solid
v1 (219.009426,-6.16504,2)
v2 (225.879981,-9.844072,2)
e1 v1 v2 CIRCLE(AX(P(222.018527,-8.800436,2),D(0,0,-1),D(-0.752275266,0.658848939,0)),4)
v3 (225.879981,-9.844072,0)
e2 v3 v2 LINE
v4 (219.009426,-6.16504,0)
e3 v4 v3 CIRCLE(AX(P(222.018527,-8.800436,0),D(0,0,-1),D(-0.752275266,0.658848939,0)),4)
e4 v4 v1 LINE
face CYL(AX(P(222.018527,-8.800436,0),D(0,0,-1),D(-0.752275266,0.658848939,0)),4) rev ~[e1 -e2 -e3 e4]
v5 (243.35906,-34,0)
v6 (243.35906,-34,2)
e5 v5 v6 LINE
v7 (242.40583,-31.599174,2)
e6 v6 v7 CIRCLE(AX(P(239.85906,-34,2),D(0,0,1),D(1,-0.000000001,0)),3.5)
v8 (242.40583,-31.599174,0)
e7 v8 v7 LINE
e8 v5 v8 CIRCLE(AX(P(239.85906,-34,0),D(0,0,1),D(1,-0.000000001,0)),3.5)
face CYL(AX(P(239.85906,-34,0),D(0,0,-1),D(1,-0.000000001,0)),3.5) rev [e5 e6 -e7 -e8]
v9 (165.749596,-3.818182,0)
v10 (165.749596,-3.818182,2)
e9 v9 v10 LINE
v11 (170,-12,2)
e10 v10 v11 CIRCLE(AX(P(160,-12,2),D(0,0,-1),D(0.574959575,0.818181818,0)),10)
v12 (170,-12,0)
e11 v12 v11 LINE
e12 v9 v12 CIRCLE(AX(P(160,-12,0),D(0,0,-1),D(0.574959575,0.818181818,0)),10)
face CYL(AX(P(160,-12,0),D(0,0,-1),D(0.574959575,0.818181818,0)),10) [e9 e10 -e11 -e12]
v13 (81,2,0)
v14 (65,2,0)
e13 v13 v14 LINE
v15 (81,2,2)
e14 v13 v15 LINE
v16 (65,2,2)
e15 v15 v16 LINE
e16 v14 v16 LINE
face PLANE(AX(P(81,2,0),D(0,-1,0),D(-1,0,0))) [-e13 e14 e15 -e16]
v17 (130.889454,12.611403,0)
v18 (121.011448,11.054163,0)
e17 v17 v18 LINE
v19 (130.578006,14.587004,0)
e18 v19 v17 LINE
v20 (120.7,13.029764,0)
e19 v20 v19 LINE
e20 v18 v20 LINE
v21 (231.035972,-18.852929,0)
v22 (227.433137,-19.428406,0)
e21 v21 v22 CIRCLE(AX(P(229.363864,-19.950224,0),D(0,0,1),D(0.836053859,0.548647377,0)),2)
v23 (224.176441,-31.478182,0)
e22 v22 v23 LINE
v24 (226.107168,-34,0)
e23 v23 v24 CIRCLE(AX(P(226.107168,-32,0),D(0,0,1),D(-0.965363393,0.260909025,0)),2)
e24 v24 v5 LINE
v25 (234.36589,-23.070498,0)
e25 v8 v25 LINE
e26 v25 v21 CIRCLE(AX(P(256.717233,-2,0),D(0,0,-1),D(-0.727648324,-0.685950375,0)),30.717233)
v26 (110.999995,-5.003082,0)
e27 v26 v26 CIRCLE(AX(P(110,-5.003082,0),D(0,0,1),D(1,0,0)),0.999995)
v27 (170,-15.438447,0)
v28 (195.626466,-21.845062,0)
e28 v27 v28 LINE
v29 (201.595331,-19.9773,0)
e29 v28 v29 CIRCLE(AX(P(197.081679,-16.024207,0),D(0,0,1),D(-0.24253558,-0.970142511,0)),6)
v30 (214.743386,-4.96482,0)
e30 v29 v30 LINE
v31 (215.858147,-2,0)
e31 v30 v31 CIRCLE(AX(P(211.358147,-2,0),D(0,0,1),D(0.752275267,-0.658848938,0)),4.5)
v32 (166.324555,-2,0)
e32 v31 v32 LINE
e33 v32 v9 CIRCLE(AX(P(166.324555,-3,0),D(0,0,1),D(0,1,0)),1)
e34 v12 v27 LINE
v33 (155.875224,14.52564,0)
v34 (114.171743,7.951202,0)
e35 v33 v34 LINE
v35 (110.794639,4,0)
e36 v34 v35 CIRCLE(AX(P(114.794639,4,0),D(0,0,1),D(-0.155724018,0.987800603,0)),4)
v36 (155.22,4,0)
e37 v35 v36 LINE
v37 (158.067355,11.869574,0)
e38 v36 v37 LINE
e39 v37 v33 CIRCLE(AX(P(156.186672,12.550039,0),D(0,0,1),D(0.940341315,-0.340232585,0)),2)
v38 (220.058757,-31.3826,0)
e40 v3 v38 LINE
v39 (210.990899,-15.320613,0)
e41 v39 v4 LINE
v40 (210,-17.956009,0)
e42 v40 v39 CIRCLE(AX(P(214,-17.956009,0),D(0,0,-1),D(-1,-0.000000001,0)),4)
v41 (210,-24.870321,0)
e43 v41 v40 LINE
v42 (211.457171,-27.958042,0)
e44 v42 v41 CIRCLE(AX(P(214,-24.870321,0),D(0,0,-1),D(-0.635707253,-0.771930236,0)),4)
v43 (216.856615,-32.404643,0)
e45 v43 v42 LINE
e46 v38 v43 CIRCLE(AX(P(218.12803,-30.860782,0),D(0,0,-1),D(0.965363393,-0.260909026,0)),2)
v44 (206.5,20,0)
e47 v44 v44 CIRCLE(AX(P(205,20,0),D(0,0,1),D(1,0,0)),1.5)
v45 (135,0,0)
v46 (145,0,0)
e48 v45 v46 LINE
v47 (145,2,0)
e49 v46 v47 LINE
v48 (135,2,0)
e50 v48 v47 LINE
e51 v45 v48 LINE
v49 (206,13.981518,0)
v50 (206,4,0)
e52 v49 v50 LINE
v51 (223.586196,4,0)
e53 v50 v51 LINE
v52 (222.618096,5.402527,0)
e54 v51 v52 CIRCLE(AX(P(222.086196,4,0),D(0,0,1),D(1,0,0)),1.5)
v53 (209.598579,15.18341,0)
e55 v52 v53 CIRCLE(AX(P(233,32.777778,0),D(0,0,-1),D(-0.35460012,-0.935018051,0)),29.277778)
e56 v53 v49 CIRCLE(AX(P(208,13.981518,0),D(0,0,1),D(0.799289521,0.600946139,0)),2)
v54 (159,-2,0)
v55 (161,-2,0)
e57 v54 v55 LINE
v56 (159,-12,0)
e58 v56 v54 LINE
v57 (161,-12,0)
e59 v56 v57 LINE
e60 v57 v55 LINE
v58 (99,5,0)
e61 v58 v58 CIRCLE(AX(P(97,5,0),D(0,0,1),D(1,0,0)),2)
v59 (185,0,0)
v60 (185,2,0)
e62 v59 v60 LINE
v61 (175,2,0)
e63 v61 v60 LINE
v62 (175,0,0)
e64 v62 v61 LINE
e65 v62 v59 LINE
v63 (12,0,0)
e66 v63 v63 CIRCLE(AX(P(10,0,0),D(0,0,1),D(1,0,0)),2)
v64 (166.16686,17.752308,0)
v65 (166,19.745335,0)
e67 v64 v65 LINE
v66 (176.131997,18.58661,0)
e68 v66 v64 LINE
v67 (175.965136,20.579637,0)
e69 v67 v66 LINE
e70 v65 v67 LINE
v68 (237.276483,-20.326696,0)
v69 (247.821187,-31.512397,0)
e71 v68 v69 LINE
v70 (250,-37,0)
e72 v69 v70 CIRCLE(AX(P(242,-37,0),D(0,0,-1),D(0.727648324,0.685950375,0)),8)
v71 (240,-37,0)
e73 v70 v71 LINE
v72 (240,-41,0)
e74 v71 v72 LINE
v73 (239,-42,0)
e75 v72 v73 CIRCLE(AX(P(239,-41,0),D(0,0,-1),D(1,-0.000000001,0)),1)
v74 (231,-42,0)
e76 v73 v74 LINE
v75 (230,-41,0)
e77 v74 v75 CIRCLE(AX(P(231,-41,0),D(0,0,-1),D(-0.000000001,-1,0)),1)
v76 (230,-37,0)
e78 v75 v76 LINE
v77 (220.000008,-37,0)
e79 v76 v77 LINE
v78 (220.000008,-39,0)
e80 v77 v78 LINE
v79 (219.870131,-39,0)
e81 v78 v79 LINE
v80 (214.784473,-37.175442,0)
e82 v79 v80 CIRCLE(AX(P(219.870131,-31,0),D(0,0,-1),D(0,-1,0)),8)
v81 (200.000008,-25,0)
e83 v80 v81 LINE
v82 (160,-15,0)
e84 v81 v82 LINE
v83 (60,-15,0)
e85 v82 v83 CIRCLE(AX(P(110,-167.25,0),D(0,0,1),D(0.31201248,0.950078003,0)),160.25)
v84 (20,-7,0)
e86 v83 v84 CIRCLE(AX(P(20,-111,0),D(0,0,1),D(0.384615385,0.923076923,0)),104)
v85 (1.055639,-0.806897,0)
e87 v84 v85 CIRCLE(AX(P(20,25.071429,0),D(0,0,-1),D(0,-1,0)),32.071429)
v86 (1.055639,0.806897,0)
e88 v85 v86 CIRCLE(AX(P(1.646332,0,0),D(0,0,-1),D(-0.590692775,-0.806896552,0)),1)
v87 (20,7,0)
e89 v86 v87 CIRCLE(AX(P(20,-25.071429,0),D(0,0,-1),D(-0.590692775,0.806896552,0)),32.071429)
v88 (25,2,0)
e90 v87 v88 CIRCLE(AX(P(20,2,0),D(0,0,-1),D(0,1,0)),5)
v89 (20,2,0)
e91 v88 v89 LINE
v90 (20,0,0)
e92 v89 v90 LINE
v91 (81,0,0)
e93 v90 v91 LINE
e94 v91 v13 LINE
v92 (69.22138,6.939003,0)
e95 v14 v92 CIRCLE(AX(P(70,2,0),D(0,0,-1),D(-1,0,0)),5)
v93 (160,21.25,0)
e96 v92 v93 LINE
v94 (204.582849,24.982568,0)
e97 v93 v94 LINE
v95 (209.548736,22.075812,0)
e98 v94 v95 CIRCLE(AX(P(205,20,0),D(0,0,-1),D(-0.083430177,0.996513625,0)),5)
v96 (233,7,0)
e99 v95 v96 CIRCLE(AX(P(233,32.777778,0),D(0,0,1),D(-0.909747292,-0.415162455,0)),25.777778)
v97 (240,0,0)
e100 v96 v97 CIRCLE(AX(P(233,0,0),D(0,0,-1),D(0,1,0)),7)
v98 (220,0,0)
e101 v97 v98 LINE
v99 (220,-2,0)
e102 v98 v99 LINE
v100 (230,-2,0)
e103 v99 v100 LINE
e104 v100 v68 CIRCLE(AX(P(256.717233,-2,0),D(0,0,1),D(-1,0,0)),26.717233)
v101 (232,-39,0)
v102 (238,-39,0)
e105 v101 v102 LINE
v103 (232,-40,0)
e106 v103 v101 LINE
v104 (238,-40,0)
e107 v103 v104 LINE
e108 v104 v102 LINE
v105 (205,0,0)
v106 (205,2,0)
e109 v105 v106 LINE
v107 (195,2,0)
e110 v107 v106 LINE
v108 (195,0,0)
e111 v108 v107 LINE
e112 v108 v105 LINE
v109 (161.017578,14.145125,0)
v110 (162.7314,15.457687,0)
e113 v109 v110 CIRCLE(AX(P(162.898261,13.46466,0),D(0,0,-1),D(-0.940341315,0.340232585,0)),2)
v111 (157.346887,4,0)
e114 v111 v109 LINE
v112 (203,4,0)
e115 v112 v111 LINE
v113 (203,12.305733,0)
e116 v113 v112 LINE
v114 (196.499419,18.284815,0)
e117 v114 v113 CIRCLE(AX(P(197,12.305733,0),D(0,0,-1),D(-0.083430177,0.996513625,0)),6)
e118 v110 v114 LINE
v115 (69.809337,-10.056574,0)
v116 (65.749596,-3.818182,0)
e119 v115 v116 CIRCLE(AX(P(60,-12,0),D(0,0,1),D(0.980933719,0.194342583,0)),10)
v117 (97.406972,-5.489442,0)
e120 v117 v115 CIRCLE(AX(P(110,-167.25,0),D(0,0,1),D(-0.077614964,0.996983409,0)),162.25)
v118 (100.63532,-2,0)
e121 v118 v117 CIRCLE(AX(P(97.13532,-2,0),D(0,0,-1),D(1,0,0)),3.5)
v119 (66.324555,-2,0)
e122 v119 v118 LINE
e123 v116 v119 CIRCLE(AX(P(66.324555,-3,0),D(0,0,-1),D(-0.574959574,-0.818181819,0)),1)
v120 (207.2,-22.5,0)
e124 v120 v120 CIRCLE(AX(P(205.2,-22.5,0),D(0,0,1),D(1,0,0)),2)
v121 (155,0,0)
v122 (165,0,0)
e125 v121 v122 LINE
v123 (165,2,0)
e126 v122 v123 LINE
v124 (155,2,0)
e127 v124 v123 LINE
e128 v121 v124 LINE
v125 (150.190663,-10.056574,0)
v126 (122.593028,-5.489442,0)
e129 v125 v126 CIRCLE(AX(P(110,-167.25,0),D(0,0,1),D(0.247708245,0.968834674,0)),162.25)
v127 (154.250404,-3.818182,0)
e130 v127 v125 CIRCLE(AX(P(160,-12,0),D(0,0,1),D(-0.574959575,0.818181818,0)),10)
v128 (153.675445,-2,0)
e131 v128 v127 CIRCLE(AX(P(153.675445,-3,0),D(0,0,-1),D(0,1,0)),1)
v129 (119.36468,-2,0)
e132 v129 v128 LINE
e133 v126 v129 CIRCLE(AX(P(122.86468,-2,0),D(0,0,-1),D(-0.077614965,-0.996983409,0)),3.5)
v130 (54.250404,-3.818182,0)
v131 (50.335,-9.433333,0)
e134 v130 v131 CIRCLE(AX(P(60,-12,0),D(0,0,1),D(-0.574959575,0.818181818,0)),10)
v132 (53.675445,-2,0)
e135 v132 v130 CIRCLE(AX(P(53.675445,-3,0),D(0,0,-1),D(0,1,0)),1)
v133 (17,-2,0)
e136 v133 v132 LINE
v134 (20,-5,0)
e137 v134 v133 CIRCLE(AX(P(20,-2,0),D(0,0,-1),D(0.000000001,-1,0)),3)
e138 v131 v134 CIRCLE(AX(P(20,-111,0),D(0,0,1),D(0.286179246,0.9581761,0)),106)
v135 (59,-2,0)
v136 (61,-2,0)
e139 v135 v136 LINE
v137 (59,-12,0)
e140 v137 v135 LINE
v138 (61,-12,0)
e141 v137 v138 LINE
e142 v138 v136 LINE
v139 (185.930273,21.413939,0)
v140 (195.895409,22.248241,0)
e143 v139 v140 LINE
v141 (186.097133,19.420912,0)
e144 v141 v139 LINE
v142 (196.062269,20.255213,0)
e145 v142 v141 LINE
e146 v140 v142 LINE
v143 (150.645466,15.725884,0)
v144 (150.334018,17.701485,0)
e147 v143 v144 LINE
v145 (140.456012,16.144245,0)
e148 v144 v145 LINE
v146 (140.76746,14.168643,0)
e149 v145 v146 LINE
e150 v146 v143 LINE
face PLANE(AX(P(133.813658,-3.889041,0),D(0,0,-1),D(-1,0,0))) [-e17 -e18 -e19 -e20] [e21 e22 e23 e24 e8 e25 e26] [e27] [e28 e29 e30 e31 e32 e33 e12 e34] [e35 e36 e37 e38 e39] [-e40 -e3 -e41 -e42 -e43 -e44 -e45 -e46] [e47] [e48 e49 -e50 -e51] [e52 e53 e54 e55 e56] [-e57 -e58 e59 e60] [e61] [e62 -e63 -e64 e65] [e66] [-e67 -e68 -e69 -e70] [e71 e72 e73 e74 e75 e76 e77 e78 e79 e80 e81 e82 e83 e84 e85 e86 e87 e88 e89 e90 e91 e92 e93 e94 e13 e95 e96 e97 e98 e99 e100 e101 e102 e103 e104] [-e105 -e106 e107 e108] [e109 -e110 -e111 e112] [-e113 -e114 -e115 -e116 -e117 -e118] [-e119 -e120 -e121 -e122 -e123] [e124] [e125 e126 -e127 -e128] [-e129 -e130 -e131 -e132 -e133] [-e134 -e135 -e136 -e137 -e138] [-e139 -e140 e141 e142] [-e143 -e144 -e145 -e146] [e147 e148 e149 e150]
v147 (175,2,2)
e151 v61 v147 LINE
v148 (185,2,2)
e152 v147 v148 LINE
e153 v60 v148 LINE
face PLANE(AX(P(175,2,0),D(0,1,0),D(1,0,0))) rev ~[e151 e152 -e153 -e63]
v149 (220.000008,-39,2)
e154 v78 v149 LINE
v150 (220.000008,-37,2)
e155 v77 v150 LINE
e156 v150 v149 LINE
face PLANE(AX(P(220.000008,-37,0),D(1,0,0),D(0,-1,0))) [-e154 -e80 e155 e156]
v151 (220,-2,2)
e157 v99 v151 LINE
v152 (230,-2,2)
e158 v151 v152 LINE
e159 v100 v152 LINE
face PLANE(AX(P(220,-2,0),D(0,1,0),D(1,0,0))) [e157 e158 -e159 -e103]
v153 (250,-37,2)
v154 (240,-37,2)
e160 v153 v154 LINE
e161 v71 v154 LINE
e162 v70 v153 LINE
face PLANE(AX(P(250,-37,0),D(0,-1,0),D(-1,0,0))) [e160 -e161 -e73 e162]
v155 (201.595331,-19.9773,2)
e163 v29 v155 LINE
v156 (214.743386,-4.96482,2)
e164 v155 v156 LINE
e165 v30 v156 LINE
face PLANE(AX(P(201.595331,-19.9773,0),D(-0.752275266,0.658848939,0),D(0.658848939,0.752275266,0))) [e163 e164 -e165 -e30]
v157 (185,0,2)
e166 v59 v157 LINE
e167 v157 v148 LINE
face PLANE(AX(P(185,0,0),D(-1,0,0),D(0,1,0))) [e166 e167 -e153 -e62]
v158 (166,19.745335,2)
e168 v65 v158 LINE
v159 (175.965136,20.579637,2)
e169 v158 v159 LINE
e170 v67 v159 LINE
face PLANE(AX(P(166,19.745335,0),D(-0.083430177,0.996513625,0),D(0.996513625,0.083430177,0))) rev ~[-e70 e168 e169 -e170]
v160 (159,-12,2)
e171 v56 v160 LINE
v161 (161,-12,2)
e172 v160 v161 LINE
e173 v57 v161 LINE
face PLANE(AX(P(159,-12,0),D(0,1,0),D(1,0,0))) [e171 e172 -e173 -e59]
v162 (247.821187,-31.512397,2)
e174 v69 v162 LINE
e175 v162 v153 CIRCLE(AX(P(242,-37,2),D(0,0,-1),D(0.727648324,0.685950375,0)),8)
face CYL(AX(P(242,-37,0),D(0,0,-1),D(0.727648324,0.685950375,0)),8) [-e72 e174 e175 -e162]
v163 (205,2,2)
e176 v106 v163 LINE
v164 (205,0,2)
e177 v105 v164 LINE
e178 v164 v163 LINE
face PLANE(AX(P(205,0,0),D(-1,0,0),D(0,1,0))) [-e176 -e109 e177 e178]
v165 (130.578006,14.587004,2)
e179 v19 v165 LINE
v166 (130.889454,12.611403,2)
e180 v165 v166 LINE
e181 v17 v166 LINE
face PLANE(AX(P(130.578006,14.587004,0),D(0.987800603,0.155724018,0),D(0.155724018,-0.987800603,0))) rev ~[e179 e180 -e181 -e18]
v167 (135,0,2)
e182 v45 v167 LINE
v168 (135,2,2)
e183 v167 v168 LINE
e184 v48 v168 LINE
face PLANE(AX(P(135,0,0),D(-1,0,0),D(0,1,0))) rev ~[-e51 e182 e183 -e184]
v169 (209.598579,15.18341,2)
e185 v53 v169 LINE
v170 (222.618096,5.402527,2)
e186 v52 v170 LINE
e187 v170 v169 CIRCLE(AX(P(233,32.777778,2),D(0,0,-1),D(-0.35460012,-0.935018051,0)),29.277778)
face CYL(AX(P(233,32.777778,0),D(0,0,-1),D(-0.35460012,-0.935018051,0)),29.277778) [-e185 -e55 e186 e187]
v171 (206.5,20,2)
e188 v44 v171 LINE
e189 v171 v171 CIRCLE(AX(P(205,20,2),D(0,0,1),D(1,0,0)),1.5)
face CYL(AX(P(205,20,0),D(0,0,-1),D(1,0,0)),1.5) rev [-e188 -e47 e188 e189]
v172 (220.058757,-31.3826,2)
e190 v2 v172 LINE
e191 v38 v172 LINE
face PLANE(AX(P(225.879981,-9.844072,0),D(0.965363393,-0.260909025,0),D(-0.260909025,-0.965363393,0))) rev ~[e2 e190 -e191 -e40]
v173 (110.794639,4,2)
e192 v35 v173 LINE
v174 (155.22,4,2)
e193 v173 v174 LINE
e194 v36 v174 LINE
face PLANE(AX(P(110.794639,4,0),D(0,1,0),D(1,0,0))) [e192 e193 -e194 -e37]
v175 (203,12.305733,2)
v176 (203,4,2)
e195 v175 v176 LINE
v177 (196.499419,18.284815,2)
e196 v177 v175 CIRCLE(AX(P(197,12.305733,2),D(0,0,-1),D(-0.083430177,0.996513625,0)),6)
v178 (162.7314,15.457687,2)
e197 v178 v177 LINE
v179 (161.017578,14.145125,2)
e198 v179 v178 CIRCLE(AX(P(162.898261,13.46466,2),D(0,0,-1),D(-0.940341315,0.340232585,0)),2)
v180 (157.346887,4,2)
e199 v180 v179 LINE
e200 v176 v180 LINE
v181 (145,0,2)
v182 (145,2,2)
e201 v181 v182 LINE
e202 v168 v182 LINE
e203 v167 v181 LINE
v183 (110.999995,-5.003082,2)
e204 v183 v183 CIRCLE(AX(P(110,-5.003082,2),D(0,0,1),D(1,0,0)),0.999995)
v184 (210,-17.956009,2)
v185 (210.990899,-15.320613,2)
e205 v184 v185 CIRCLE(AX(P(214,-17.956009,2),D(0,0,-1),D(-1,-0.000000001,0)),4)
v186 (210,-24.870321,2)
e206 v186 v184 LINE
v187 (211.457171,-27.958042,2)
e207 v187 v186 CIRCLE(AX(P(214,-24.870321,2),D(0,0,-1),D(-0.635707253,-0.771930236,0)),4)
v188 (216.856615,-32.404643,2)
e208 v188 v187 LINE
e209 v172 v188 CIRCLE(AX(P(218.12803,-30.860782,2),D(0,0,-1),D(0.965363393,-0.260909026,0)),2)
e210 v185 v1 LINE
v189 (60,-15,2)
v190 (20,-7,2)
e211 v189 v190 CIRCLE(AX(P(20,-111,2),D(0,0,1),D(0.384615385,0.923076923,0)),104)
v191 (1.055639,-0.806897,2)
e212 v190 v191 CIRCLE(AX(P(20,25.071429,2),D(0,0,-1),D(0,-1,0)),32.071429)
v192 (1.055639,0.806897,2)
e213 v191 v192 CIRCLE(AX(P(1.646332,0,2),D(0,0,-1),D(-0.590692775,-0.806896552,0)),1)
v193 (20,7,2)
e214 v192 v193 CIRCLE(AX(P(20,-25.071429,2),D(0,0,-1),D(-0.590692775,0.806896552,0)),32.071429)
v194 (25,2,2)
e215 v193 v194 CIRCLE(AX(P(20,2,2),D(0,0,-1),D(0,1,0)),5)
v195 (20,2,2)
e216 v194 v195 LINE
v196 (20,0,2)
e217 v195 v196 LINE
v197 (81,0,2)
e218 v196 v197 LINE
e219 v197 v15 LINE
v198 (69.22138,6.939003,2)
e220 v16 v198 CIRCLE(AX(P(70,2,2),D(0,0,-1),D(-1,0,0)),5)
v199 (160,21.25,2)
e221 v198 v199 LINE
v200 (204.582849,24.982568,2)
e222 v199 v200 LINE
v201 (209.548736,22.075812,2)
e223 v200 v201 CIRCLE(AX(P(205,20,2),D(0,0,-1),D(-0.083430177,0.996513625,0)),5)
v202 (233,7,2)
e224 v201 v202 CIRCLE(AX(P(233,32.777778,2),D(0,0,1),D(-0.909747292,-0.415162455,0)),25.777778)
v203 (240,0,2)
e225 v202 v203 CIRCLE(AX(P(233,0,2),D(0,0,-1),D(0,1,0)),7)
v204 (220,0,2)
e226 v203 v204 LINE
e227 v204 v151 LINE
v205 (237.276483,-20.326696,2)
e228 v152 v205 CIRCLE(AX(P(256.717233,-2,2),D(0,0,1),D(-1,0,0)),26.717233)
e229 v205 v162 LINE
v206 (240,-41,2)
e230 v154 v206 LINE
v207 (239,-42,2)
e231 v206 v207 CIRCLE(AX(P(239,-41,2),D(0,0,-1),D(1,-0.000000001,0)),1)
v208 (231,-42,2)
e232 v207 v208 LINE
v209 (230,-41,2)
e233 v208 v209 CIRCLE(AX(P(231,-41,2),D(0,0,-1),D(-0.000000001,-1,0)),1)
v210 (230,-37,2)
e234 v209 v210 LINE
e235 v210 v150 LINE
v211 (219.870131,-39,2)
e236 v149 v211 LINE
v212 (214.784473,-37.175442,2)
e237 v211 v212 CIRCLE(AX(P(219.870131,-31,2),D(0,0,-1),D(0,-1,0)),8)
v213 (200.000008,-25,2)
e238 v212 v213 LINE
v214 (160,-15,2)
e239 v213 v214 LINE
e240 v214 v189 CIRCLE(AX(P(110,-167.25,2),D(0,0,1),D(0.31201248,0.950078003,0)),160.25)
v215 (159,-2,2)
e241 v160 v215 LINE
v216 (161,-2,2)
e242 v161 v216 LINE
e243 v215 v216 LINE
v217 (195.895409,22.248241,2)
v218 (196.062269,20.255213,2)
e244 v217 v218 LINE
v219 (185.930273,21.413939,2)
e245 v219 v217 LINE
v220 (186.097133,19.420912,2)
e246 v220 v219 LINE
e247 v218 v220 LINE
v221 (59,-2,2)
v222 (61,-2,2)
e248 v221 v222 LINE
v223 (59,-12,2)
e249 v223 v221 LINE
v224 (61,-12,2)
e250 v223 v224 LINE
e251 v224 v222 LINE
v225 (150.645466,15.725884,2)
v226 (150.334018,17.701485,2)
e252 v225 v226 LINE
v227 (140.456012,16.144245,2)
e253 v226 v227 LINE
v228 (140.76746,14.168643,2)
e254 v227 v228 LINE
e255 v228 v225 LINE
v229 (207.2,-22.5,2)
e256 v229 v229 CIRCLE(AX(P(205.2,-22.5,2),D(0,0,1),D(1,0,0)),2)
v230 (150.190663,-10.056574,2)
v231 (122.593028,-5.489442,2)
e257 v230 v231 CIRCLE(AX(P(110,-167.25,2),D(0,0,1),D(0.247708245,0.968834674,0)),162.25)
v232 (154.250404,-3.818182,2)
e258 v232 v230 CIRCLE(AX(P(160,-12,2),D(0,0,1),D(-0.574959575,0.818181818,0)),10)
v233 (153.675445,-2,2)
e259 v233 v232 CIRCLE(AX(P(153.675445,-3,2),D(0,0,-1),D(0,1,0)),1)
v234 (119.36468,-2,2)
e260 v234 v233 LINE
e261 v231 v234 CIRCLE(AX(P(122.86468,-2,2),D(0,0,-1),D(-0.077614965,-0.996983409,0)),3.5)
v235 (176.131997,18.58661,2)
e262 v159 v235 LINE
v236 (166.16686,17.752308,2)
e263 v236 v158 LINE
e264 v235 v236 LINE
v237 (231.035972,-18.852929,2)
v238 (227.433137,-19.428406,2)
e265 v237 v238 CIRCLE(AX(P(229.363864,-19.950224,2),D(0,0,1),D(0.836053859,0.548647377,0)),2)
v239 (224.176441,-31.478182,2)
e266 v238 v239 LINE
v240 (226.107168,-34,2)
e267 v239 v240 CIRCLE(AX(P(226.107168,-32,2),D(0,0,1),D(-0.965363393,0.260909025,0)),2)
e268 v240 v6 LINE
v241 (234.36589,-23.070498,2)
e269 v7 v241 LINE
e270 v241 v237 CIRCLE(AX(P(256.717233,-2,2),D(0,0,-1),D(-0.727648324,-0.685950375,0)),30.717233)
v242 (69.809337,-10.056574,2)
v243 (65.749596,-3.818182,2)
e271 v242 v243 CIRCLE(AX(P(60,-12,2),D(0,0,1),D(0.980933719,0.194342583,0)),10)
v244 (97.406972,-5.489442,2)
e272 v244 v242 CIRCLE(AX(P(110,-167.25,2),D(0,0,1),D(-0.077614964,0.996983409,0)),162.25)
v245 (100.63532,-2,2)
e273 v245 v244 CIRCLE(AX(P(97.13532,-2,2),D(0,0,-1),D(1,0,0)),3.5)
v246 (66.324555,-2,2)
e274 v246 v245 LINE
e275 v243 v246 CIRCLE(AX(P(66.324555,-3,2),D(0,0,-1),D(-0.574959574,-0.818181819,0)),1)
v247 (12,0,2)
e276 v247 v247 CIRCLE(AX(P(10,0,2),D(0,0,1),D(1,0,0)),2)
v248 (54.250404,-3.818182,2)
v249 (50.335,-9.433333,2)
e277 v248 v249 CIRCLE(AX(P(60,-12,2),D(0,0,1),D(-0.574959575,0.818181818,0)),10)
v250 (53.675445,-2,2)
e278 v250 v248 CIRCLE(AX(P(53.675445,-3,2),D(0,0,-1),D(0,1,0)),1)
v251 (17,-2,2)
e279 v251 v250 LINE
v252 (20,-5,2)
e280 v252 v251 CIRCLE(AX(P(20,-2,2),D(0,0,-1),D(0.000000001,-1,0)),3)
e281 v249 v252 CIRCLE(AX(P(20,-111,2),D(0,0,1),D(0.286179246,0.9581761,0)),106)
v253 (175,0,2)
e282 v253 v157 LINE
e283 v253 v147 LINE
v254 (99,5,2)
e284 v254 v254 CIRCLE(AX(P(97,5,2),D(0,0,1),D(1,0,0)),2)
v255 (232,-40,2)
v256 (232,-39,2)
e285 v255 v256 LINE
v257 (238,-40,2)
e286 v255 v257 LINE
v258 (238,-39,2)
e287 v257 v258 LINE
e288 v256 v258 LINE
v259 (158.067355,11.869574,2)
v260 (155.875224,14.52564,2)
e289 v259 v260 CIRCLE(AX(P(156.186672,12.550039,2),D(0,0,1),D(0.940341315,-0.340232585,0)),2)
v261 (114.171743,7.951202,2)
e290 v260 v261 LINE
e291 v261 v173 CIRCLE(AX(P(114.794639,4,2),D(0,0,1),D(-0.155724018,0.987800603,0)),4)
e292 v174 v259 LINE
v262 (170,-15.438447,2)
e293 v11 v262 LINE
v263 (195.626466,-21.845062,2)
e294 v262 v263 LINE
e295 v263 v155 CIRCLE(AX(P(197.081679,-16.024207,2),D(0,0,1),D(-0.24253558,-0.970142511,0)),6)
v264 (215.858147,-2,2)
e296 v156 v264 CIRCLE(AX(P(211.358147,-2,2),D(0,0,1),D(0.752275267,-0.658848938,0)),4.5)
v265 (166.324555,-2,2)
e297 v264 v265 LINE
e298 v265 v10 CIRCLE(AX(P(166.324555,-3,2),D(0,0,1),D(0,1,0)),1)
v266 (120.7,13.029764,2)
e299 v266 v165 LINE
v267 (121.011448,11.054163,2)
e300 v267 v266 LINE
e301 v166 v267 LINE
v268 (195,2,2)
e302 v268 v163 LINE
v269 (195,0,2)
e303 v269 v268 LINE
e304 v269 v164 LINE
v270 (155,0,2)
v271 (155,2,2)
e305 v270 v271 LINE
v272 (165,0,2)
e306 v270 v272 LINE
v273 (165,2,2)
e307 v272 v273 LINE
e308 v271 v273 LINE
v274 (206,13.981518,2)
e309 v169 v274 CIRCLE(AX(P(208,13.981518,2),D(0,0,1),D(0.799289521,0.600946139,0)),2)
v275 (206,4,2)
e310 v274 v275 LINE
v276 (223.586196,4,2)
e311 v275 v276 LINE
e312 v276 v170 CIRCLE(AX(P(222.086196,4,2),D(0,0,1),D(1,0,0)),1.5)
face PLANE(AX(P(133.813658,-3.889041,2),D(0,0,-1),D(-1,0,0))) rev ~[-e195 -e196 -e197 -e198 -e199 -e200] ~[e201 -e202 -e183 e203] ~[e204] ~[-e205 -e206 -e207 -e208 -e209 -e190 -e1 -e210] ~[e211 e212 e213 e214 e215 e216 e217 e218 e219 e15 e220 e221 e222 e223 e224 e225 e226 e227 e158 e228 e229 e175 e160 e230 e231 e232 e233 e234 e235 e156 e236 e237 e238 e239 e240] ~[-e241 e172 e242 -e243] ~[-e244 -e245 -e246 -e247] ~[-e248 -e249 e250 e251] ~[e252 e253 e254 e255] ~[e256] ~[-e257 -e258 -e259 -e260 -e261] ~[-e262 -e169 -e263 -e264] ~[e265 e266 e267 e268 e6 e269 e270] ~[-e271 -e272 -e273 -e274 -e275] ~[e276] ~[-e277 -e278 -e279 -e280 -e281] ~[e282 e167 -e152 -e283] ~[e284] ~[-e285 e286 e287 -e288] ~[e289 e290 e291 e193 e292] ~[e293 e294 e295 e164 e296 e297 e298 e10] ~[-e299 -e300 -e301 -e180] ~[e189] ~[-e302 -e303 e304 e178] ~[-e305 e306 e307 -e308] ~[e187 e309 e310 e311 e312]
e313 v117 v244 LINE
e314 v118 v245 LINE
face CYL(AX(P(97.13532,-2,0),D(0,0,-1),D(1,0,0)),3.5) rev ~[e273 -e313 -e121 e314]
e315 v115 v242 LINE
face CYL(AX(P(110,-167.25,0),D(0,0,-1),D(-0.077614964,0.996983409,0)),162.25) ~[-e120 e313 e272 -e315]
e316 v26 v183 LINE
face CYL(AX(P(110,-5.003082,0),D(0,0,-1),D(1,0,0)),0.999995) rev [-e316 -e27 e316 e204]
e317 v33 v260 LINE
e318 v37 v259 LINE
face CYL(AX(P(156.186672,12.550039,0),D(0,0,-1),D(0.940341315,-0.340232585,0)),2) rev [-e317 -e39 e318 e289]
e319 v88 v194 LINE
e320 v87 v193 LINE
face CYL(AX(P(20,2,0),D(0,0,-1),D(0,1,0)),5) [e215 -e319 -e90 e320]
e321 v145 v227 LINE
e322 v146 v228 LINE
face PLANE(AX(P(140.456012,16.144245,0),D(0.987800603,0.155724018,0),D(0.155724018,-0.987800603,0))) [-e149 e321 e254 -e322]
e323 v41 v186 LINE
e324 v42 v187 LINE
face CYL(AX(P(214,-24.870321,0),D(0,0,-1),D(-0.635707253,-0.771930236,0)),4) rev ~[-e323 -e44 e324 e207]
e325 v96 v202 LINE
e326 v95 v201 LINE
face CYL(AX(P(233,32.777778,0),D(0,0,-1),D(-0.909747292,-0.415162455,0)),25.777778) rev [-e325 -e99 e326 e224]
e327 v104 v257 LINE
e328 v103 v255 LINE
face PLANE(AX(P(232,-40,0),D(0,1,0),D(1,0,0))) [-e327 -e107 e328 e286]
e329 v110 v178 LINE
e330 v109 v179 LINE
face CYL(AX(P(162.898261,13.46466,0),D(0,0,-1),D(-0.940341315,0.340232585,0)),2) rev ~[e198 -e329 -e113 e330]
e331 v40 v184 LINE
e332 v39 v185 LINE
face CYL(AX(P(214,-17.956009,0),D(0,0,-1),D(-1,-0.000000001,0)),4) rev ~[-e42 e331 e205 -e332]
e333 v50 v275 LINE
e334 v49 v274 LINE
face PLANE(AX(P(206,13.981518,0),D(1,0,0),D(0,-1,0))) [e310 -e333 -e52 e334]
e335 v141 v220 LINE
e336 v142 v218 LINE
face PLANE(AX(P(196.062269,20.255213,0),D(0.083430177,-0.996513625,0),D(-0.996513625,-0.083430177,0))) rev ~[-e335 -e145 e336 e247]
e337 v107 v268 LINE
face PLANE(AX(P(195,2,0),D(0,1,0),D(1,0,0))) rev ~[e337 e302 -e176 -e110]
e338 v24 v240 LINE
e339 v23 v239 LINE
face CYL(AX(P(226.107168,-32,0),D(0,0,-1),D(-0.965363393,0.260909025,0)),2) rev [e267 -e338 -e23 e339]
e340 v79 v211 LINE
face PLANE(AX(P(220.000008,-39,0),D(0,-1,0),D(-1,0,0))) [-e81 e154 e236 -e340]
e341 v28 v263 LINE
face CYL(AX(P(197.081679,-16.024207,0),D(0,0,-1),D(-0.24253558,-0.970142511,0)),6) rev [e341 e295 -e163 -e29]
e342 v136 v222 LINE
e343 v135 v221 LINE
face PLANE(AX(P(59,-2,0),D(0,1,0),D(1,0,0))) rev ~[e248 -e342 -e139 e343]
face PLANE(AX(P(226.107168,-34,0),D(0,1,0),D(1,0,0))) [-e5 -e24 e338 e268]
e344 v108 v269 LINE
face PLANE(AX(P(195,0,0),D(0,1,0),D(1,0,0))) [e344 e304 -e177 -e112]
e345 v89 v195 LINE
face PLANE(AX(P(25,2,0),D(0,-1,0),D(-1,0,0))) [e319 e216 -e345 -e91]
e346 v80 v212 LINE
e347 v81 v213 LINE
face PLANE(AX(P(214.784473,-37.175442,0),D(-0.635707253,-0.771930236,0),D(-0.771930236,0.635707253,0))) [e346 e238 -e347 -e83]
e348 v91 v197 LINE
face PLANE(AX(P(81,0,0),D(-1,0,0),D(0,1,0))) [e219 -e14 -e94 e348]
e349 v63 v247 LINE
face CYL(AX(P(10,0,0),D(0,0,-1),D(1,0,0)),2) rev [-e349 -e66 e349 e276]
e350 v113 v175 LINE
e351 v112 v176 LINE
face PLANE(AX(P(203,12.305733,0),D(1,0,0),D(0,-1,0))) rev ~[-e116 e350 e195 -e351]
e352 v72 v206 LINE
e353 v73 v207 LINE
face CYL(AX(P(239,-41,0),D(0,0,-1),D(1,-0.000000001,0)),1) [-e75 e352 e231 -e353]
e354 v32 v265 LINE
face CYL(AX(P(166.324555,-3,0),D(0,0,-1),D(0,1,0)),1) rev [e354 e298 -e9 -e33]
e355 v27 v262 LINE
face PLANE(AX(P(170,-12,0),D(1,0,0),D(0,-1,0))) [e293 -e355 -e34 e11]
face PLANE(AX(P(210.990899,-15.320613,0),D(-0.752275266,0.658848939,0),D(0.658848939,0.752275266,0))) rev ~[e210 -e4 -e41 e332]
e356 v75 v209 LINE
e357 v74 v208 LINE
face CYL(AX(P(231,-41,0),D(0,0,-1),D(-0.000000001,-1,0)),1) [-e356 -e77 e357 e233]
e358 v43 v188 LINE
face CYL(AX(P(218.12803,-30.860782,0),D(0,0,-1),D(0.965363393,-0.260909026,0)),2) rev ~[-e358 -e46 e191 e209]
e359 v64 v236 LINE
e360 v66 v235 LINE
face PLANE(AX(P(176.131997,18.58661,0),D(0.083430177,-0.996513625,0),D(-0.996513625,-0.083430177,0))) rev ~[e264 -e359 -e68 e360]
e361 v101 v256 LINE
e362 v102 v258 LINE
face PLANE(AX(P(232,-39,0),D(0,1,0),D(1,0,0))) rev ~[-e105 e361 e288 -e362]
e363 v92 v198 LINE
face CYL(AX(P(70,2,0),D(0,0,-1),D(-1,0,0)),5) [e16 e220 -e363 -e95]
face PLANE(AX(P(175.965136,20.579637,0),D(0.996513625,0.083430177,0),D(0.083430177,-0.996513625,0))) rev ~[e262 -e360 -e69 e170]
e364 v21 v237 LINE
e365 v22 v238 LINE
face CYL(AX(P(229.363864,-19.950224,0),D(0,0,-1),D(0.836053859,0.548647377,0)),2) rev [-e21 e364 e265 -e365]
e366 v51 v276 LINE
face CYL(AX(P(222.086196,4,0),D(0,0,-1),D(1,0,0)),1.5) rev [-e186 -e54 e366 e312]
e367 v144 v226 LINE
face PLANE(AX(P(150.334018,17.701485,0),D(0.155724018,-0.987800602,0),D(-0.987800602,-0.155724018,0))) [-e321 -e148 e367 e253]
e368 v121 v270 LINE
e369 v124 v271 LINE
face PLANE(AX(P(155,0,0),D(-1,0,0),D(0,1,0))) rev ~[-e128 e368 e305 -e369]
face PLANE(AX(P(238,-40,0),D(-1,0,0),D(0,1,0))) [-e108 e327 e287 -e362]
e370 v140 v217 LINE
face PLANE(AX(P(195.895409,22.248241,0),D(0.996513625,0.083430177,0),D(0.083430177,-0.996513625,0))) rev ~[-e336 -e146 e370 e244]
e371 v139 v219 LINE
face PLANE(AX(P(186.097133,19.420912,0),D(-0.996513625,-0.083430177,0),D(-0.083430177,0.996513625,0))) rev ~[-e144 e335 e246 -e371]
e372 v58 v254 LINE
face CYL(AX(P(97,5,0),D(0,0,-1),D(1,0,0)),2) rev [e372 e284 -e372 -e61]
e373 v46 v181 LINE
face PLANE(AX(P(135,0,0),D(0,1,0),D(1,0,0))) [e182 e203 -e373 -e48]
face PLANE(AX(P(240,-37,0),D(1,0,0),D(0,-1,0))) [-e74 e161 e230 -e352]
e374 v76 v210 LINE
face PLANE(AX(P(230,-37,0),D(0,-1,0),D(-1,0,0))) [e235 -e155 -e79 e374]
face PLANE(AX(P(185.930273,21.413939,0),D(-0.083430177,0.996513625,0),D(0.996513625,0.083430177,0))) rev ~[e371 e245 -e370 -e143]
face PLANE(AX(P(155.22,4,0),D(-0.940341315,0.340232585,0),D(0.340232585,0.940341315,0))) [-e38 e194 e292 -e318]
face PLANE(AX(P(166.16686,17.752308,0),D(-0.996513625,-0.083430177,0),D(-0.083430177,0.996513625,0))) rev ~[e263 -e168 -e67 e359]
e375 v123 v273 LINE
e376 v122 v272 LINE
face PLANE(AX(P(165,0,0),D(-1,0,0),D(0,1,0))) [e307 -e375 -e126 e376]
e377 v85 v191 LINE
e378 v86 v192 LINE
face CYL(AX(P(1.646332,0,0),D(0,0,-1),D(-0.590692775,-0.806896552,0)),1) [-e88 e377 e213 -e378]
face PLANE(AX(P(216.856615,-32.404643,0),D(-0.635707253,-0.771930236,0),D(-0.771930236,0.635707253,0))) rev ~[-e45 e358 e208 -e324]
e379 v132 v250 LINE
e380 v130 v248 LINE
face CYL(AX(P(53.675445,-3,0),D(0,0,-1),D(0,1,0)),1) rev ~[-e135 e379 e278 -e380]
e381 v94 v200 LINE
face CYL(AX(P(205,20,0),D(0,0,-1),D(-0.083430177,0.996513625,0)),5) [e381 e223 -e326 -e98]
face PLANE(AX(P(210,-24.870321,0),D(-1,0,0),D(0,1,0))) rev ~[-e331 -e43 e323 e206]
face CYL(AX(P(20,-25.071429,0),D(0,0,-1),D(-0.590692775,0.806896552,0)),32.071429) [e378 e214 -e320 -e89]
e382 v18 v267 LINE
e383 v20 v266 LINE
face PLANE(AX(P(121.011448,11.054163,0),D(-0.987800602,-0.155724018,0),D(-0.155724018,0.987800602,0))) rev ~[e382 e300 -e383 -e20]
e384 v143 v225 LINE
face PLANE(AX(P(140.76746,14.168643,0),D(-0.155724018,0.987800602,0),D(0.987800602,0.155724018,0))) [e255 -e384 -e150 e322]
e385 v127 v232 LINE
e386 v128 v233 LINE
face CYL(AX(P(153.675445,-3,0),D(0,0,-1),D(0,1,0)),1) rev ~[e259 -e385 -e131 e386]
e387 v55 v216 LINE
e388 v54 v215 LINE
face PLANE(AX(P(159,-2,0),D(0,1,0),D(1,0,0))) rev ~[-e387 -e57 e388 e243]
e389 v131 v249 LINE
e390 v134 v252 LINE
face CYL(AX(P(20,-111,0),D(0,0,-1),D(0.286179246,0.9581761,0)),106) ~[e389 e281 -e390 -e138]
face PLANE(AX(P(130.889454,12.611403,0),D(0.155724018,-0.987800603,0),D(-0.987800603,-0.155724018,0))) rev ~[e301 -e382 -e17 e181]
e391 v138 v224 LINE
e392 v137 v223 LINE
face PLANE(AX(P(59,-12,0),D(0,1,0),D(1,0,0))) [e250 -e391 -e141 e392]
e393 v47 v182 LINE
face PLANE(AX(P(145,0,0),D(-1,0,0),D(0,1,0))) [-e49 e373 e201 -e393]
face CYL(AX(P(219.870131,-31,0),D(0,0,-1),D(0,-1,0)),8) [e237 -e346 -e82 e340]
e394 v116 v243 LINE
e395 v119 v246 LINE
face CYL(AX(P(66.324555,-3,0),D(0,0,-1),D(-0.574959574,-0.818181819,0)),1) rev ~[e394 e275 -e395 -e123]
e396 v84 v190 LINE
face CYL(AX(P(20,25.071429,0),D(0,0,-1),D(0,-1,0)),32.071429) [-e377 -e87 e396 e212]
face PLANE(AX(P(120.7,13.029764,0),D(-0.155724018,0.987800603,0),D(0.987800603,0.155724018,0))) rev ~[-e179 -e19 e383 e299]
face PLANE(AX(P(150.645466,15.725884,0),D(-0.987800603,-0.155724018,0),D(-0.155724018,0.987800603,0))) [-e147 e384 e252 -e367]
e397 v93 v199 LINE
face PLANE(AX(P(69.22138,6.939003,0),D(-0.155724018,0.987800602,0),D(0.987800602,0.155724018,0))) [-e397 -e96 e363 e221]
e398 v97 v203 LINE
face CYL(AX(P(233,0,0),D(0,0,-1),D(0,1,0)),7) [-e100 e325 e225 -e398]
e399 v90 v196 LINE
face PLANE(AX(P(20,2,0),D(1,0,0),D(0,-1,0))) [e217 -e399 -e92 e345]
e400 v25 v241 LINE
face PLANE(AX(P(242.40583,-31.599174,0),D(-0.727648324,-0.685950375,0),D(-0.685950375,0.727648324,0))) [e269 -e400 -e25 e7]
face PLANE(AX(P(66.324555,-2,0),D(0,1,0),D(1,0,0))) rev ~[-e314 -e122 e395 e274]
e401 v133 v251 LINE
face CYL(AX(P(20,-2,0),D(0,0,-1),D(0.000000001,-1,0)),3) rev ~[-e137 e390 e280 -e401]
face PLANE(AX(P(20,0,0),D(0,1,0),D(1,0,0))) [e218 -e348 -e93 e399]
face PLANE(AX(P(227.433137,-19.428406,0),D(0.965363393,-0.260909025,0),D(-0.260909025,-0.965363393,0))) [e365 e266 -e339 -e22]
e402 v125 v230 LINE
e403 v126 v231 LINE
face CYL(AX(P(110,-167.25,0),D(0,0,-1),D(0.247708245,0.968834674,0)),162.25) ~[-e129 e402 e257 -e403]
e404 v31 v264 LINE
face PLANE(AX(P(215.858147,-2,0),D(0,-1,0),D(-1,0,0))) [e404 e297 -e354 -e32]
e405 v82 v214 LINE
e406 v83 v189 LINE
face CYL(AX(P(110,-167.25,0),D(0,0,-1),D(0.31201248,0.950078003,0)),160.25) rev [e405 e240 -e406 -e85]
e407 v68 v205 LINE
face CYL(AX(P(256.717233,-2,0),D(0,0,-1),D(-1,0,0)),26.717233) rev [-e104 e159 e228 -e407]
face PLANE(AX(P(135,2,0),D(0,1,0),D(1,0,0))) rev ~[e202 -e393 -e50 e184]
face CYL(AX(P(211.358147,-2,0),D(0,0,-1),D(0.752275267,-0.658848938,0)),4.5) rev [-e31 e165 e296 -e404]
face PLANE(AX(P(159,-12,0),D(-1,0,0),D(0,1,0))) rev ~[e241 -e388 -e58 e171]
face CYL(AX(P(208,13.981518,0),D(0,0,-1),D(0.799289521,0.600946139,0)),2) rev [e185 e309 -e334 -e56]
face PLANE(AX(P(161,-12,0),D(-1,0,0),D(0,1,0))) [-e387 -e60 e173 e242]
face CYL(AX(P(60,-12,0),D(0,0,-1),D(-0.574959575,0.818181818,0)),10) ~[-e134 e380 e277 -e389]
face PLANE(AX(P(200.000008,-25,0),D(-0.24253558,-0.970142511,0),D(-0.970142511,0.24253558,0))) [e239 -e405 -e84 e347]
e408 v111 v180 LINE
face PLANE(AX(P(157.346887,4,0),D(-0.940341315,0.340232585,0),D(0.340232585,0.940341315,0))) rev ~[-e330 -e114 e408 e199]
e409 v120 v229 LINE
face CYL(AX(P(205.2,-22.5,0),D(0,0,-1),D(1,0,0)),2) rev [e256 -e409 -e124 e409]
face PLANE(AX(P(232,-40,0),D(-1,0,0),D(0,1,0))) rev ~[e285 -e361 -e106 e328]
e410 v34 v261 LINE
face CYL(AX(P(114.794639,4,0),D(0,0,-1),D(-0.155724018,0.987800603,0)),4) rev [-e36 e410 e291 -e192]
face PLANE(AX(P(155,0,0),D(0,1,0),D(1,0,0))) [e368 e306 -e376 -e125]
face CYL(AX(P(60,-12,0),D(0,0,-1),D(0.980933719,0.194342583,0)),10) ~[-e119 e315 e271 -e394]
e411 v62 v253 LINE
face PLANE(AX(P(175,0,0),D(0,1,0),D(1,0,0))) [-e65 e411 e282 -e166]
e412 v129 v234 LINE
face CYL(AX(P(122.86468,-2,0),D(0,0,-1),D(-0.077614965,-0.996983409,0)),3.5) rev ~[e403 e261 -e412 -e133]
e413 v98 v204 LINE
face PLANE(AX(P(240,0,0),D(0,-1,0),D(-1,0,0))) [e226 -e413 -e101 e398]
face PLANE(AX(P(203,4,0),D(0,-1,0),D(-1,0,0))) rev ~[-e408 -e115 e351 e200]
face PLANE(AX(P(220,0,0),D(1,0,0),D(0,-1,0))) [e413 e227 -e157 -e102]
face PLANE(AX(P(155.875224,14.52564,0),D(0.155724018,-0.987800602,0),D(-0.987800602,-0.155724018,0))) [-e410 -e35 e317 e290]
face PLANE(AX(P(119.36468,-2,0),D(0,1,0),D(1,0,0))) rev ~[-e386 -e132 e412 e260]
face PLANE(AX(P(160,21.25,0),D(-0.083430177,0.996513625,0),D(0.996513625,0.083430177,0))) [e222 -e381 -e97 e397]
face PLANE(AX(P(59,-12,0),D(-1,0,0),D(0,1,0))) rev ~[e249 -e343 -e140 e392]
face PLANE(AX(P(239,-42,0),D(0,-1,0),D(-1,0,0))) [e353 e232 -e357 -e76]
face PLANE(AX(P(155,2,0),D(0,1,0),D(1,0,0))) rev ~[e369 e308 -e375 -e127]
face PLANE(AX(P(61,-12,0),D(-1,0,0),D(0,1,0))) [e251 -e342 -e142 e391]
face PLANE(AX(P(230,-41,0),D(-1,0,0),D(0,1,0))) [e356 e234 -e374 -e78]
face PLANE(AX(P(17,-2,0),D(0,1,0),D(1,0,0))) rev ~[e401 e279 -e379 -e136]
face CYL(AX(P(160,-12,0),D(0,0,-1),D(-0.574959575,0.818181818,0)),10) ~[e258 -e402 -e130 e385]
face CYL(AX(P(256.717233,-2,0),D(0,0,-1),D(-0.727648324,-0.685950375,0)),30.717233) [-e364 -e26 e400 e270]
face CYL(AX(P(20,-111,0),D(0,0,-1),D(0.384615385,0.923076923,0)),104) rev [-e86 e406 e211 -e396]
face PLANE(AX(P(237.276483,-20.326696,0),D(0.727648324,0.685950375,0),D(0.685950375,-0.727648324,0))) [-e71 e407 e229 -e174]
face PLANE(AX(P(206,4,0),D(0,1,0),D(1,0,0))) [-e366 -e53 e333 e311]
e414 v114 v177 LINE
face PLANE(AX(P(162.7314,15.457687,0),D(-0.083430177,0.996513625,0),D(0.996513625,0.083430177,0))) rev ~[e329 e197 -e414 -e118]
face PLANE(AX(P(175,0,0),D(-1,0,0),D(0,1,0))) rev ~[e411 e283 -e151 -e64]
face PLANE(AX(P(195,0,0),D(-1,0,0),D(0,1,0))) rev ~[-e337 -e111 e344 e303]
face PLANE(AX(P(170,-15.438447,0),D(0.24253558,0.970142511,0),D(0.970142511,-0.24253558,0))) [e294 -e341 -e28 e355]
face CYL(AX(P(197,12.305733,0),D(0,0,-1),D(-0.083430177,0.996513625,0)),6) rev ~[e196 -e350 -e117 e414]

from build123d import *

# Parameters (mm, degrees)
SKETCH1_R           = 2
SKETCH1_R_2         = 1.5
SKETCH1_R_3         = 0.999995252
SKETCH1_W           = 2
SKETCH1_H           = 10
SKETCH1_W_2         = 6
SKETCH1_H_2         = 1
SKETCH1_W_3         = 10
SKETCH1_H_3         = 2
BOSS_EXTRUDE1_DEPTH = 2


with BuildPart() as part:
    # Sketch1 → Boss-Extrude1 (new body)
    with BuildSketch(Plane.XY):
        with BuildLine():
            Line((25, 2), (20, 2))
            Line((20, 2), (20, 0))
            Line((20, 0), (81, 0))
            Line((81, 0), (81, 2))
            Line((81, 2), (65, 2))
            ThreePointArc((65, 2), (66.199138226, 5.24860736), (69.221379911, 6.939003012))
            Line((69.221379911, 6.939003012), (160, 21.25))
            Line((160, 21.25), (204.582849115, 24.982568127))
            ThreePointArc((204.582849115, 24.982568127), (207.525828031, 24.315112137), (209.548736462, 22.075812274))
            ThreePointArc((209.548736462, 22.075812274), (219.060470979, 11.094065968), (233, 7))
            ThreePointArc((233, 7), (237.949747468, 4.949747468), (240, 0))
            Line((240, 0), (220, 0))
            Line((220, 0), (220, -2))
            Line((220, -2), (230, -2))
            ThreePointArc((230, -2), (231.885664581, -11.859196198), (237.276483238, -20.326696111))
            Line((237.276483238, -20.326696111), (247.82118659, -31.512397))
            ThreePointArc((247.82118659, -31.512397), (249.435371299, -34.047839158), (250, -37))
            Line((250, -37), (240, -37))
            Line((240, -37), (240, -41))
            ThreePointArc((240, -41), (239.707106781, -41.707106781), (239, -42))
            Line((239, -42), (231, -42))
            ThreePointArc((231, -42), (230.292893219, -41.707106781), (230, -41))
            Line((230, -41), (230, -37))
            Line((230, -37), (220.000007865, -37))
            Line((220.000007865, -37), (220.000007865, -39))
            Line((220.000007865, -39), (219.870131034, -39))
            ThreePointArc((219.870131034, -39), (217.168606934, -38.530057605), (214.784473011, -37.175441885))
            Line((214.784473011, -37.175441885), (200.000007865, -25))
            Line((200.000007865, -25), (160, -15))
            ThreePointArc((160, -15), (110, -7), (60, -15))
            ThreePointArc((60, -15), (40.396078054, -9.019609728), (20, -7))
            ThreePointArc((20, -7), (10.034517702, -5.41243098), (1.055638849, -0.806896552))
            ThreePointArc((1.055638849, -0.806896552), (0.646331624, 0), (1.055638849, 0.806896552))
            ThreePointArc((1.055638849, 0.806896552), (10.034517702, 5.41243098), (20, 7))
            ThreePointArc((20, 7), (23.535533906, 5.535533906), (25, 2))
        make_face()
        with Locations((10, 0)):
            Circle(SKETCH1_R, mode=Mode.SUBTRACT)
        with Locations((205, 20)):
            Circle(SKETCH1_R_2, mode=Mode.SUBTRACT)
        with Locations((110, -5.003081664)):
            Circle(SKETCH1_R_3, mode=Mode.SUBTRACT)
        with Locations((97, 5)):
            Circle(SKETCH1_R, mode=Mode.SUBTRACT)
        with Locations((205.2, -22.5)):
            Circle(SKETCH1_R, mode=Mode.SUBTRACT)
        with BuildLine():
            Line((66.32455532, -2), (100.63531967, -2))
            ThreePointArc((100.63531967, -2), (99.70444241, -4.376890478), (97.406972045, -5.489441931))
            ThreePointArc((97.406972045, -5.489441931), (83.509545549, -7.177146827), (69.809337188, -10.056574175))
            ThreePointArc((69.809337188, -10.056574175), (68.381496484, -6.545596578), (65.749595746, -3.818181818))
            ThreePointArc((65.749595746, -3.818181818), (65.371092731, -2.698488655), (66.32455532, -2))
        make_face(mode=Mode.SUBTRACT)
        with Locations((60, -7)):
            Rectangle(SKETCH1_W, SKETCH1_H, mode=Mode.SUBTRACT)
        with BuildLine():
            Line((17, -2), (53.67544468, -2))
            ThreePointArc((53.67544468, -2), (54.628907269, -2.698488655), (54.250404254, -3.818181818))
            ThreePointArc((54.250404254, -3.818181818), (51.797261355, -6.280290329), (50.33500013, -9.433333386))
            ThreePointArc((50.33500013, -9.433333386), (35.328622555, -6.114189089), (20, -5))
            ThreePointArc((20, -5), (17.878679656, -4.121320344), (17, -2))
        make_face(mode=Mode.SUBTRACT)
        with Locations((235, -39.5)):
            Rectangle(SKETCH1_W_2, SKETCH1_H_2, mode=Mode.SUBTRACT)
        with Locations((160, -7)):
            Rectangle(SKETCH1_W, SKETCH1_H, mode=Mode.SUBTRACT)
        with BuildLine():
            Line((170, -15.438446719), (195.626465602, -21.84506186))
            ThreePointArc((195.626465602, -21.84506186), (198.873506118, -21.75040587), (201.59533068, -19.977300424))
            Line((201.59533068, -19.977300424), (214.743385775, -4.964820224))
            ThreePointArc((214.743385775, -4.964820224), (215.570247155, -3.583733857), (215.858147077, -2))
            Line((215.858147077, -2), (166.32455532, -2))
            ThreePointArc((166.32455532, -2), (165.371092731, -2.698488655), (165.749595746, -3.818181818))
            ThreePointArc((165.749595746, -3.818181818), (168.874005788, -7.390008539), (170, -12))
            Line((170, -12), (170, -15.438446719))
        make_face(mode=Mode.SUBTRACT)
        with BuildLine():
            Line((119.36468033, -2), (153.67544468, -2))
            ThreePointArc((153.67544468, -2), (154.628907269, -2.698488655), (154.250404254, -3.818181818))
            ThreePointArc((154.250404254, -3.818181818), (151.618503516, -6.545596578), (150.190662812, -10.056574175))
            ThreePointArc((150.190662812, -10.056574175), (136.490454451, -7.177146827), (122.593027955, -5.489441931))
            ThreePointArc((122.593027955, -5.489441931), (120.29555759, -4.376890478), (119.36468033, -2))
        make_face(mode=Mode.SUBTRACT)
        with BuildLine():
            Line((225.879980597, -9.844071792), (220.058756659, -31.382600362))
            ThreePointArc((220.058756659, -31.382600362), (218.736154735, -32.766086526), (216.856615367, -32.404642783))
            Line((216.856615367, -32.404642783), (211.457170989, -27.95804153))
            ThreePointArc((211.457170989, -27.95804153), (210.382589597, -26.57746498), (210, -24.870320587))
            Line((210, -24.870320587), (210, -17.956008689))
            ThreePointArc((210, -17.956008689), (210.255911041, -16.54824526), (210.990898935, -15.320612934))
            Line((210.990898935, -15.320612934), (219.00942596, -6.165039937))
            ThreePointArc((219.00942596, -6.165039937), (223.906765634, -5.274169259), (225.879980597, -9.844071792))
        make_face(mode=Mode.SUBTRACT)
        with BuildLine():
            Line((155.22, 4), (158.067354896, 11.869573832))
            ThreePointArc((158.067354896, 11.869573832), (157.729169089, 13.823107559), (155.875224231, 14.525640207))
            Line((155.875224231, 14.525640207), (114.171743224, 7.95120241))
            ThreePointArc((114.171743224, 7.95120241), (111.753949876, 6.598885888), (110.794639295, 4))
            Line((110.794639295, 4), (155.22, 4))
        make_face(mode=Mode.SUBTRACT)
        with BuildLine():
            Line((162.73140024, 15.457687033), (196.499418938, 18.28481524))
            ThreePointArc((196.499418938, 18.28481524), (201.061804625, 16.721811294), (203, 12.305733488))
            Line((203, 12.305733488), (203, 4))
            Line((203, 4), (157.3468873, 4))
            Line((157.3468873, 4), (161.017577964, 14.145124952))
            ThreePointArc((161.017577964, 14.145124952), (161.682196092, 15.052484435), (162.73140024, 15.457687033))
        make_face(mode=Mode.SUBTRACT)
        with BuildLine():
            Line((206, 13.981517971), (206, 4))
            Line((206, 4), (223.586196304, 4))
            ThreePointArc((223.586196304, 4), (223.320669931, 4.852100267), (222.618096484, 5.402527076))
            ThreePointArc((222.618096484, 5.402527076), (215.414646092, 9.369582641), (209.598579041, 15.18341025))
            ThreePointArc((209.598579041, 15.18341025), (207.366422097, 15.878510075), (206, 13.981517971))
        make_face(mode=Mode.SUBTRACT)
        Polygon((166, 19.745335237), (175.965136254, 20.579637008), (176.131996608, 18.586609757), (166.166860354, 17.752307987), align=None, mode=Mode.SUBTRACT)
        Polygon((150.334018075, 17.701484711), (140.45601205, 16.144244533), (140.767460085, 14.168643328), (150.64546611, 15.725883506), align=None, mode=Mode.SUBTRACT)
        Polygon((121.011448036, 11.054162973), (120.7, 13.029764178), (130.578006025, 14.587004355), (130.88945406, 12.61140315), align=None, mode=Mode.SUBTRACT)
        Polygon((186.097132862, 19.420911528), (185.930272507, 21.413938779), (195.895408761, 22.24824055), (196.062269115, 20.255213299), align=None, mode=Mode.SUBTRACT)
        with BuildLine():
            Line((227.433137345, -19.428406141), (224.17644118, -31.47818195))
            ThreePointArc((224.17644118, -31.47818195), (224.519144651, -33.215805062), (226.107167967, -34))
            Line((226.107167967, -34), (243.359060381, -34))
            ThreePointArc((243.359060381, -34), (243.112035325, -32.708429631), (242.405829515, -31.599173688))
            Line((242.405829515, -31.599173688), (234.365889943, -23.070497611))
            ThreePointArc((234.365889943, -23.070497611), (232.608526335, -21.034670167), (231.035971848, -18.852929436))
            ThreePointArc((231.035971848, -18.852929436), (229.048405235, -17.975259461), (227.433137345, -19.428406141))
        make_face(mode=Mode.SUBTRACT)
        with Locations((140, 1)):
            Rectangle(SKETCH1_W_3, SKETCH1_H_3, mode=Mode.SUBTRACT)
        with Locations((160, 1)):
            Rectangle(SKETCH1_W_3, SKETCH1_H_3, mode=Mode.SUBTRACT)
        with Locations((180, 1)):
            Rectangle(SKETCH1_W_3, SKETCH1_H_3, mode=Mode.SUBTRACT)
        with Locations((200, 1)):
            Rectangle(SKETCH1_W_3, SKETCH1_H_3, mode=Mode.SUBTRACT)
    extrude(amount=BOSS_EXTRUDE1_DEPTH)


solid = part.part
